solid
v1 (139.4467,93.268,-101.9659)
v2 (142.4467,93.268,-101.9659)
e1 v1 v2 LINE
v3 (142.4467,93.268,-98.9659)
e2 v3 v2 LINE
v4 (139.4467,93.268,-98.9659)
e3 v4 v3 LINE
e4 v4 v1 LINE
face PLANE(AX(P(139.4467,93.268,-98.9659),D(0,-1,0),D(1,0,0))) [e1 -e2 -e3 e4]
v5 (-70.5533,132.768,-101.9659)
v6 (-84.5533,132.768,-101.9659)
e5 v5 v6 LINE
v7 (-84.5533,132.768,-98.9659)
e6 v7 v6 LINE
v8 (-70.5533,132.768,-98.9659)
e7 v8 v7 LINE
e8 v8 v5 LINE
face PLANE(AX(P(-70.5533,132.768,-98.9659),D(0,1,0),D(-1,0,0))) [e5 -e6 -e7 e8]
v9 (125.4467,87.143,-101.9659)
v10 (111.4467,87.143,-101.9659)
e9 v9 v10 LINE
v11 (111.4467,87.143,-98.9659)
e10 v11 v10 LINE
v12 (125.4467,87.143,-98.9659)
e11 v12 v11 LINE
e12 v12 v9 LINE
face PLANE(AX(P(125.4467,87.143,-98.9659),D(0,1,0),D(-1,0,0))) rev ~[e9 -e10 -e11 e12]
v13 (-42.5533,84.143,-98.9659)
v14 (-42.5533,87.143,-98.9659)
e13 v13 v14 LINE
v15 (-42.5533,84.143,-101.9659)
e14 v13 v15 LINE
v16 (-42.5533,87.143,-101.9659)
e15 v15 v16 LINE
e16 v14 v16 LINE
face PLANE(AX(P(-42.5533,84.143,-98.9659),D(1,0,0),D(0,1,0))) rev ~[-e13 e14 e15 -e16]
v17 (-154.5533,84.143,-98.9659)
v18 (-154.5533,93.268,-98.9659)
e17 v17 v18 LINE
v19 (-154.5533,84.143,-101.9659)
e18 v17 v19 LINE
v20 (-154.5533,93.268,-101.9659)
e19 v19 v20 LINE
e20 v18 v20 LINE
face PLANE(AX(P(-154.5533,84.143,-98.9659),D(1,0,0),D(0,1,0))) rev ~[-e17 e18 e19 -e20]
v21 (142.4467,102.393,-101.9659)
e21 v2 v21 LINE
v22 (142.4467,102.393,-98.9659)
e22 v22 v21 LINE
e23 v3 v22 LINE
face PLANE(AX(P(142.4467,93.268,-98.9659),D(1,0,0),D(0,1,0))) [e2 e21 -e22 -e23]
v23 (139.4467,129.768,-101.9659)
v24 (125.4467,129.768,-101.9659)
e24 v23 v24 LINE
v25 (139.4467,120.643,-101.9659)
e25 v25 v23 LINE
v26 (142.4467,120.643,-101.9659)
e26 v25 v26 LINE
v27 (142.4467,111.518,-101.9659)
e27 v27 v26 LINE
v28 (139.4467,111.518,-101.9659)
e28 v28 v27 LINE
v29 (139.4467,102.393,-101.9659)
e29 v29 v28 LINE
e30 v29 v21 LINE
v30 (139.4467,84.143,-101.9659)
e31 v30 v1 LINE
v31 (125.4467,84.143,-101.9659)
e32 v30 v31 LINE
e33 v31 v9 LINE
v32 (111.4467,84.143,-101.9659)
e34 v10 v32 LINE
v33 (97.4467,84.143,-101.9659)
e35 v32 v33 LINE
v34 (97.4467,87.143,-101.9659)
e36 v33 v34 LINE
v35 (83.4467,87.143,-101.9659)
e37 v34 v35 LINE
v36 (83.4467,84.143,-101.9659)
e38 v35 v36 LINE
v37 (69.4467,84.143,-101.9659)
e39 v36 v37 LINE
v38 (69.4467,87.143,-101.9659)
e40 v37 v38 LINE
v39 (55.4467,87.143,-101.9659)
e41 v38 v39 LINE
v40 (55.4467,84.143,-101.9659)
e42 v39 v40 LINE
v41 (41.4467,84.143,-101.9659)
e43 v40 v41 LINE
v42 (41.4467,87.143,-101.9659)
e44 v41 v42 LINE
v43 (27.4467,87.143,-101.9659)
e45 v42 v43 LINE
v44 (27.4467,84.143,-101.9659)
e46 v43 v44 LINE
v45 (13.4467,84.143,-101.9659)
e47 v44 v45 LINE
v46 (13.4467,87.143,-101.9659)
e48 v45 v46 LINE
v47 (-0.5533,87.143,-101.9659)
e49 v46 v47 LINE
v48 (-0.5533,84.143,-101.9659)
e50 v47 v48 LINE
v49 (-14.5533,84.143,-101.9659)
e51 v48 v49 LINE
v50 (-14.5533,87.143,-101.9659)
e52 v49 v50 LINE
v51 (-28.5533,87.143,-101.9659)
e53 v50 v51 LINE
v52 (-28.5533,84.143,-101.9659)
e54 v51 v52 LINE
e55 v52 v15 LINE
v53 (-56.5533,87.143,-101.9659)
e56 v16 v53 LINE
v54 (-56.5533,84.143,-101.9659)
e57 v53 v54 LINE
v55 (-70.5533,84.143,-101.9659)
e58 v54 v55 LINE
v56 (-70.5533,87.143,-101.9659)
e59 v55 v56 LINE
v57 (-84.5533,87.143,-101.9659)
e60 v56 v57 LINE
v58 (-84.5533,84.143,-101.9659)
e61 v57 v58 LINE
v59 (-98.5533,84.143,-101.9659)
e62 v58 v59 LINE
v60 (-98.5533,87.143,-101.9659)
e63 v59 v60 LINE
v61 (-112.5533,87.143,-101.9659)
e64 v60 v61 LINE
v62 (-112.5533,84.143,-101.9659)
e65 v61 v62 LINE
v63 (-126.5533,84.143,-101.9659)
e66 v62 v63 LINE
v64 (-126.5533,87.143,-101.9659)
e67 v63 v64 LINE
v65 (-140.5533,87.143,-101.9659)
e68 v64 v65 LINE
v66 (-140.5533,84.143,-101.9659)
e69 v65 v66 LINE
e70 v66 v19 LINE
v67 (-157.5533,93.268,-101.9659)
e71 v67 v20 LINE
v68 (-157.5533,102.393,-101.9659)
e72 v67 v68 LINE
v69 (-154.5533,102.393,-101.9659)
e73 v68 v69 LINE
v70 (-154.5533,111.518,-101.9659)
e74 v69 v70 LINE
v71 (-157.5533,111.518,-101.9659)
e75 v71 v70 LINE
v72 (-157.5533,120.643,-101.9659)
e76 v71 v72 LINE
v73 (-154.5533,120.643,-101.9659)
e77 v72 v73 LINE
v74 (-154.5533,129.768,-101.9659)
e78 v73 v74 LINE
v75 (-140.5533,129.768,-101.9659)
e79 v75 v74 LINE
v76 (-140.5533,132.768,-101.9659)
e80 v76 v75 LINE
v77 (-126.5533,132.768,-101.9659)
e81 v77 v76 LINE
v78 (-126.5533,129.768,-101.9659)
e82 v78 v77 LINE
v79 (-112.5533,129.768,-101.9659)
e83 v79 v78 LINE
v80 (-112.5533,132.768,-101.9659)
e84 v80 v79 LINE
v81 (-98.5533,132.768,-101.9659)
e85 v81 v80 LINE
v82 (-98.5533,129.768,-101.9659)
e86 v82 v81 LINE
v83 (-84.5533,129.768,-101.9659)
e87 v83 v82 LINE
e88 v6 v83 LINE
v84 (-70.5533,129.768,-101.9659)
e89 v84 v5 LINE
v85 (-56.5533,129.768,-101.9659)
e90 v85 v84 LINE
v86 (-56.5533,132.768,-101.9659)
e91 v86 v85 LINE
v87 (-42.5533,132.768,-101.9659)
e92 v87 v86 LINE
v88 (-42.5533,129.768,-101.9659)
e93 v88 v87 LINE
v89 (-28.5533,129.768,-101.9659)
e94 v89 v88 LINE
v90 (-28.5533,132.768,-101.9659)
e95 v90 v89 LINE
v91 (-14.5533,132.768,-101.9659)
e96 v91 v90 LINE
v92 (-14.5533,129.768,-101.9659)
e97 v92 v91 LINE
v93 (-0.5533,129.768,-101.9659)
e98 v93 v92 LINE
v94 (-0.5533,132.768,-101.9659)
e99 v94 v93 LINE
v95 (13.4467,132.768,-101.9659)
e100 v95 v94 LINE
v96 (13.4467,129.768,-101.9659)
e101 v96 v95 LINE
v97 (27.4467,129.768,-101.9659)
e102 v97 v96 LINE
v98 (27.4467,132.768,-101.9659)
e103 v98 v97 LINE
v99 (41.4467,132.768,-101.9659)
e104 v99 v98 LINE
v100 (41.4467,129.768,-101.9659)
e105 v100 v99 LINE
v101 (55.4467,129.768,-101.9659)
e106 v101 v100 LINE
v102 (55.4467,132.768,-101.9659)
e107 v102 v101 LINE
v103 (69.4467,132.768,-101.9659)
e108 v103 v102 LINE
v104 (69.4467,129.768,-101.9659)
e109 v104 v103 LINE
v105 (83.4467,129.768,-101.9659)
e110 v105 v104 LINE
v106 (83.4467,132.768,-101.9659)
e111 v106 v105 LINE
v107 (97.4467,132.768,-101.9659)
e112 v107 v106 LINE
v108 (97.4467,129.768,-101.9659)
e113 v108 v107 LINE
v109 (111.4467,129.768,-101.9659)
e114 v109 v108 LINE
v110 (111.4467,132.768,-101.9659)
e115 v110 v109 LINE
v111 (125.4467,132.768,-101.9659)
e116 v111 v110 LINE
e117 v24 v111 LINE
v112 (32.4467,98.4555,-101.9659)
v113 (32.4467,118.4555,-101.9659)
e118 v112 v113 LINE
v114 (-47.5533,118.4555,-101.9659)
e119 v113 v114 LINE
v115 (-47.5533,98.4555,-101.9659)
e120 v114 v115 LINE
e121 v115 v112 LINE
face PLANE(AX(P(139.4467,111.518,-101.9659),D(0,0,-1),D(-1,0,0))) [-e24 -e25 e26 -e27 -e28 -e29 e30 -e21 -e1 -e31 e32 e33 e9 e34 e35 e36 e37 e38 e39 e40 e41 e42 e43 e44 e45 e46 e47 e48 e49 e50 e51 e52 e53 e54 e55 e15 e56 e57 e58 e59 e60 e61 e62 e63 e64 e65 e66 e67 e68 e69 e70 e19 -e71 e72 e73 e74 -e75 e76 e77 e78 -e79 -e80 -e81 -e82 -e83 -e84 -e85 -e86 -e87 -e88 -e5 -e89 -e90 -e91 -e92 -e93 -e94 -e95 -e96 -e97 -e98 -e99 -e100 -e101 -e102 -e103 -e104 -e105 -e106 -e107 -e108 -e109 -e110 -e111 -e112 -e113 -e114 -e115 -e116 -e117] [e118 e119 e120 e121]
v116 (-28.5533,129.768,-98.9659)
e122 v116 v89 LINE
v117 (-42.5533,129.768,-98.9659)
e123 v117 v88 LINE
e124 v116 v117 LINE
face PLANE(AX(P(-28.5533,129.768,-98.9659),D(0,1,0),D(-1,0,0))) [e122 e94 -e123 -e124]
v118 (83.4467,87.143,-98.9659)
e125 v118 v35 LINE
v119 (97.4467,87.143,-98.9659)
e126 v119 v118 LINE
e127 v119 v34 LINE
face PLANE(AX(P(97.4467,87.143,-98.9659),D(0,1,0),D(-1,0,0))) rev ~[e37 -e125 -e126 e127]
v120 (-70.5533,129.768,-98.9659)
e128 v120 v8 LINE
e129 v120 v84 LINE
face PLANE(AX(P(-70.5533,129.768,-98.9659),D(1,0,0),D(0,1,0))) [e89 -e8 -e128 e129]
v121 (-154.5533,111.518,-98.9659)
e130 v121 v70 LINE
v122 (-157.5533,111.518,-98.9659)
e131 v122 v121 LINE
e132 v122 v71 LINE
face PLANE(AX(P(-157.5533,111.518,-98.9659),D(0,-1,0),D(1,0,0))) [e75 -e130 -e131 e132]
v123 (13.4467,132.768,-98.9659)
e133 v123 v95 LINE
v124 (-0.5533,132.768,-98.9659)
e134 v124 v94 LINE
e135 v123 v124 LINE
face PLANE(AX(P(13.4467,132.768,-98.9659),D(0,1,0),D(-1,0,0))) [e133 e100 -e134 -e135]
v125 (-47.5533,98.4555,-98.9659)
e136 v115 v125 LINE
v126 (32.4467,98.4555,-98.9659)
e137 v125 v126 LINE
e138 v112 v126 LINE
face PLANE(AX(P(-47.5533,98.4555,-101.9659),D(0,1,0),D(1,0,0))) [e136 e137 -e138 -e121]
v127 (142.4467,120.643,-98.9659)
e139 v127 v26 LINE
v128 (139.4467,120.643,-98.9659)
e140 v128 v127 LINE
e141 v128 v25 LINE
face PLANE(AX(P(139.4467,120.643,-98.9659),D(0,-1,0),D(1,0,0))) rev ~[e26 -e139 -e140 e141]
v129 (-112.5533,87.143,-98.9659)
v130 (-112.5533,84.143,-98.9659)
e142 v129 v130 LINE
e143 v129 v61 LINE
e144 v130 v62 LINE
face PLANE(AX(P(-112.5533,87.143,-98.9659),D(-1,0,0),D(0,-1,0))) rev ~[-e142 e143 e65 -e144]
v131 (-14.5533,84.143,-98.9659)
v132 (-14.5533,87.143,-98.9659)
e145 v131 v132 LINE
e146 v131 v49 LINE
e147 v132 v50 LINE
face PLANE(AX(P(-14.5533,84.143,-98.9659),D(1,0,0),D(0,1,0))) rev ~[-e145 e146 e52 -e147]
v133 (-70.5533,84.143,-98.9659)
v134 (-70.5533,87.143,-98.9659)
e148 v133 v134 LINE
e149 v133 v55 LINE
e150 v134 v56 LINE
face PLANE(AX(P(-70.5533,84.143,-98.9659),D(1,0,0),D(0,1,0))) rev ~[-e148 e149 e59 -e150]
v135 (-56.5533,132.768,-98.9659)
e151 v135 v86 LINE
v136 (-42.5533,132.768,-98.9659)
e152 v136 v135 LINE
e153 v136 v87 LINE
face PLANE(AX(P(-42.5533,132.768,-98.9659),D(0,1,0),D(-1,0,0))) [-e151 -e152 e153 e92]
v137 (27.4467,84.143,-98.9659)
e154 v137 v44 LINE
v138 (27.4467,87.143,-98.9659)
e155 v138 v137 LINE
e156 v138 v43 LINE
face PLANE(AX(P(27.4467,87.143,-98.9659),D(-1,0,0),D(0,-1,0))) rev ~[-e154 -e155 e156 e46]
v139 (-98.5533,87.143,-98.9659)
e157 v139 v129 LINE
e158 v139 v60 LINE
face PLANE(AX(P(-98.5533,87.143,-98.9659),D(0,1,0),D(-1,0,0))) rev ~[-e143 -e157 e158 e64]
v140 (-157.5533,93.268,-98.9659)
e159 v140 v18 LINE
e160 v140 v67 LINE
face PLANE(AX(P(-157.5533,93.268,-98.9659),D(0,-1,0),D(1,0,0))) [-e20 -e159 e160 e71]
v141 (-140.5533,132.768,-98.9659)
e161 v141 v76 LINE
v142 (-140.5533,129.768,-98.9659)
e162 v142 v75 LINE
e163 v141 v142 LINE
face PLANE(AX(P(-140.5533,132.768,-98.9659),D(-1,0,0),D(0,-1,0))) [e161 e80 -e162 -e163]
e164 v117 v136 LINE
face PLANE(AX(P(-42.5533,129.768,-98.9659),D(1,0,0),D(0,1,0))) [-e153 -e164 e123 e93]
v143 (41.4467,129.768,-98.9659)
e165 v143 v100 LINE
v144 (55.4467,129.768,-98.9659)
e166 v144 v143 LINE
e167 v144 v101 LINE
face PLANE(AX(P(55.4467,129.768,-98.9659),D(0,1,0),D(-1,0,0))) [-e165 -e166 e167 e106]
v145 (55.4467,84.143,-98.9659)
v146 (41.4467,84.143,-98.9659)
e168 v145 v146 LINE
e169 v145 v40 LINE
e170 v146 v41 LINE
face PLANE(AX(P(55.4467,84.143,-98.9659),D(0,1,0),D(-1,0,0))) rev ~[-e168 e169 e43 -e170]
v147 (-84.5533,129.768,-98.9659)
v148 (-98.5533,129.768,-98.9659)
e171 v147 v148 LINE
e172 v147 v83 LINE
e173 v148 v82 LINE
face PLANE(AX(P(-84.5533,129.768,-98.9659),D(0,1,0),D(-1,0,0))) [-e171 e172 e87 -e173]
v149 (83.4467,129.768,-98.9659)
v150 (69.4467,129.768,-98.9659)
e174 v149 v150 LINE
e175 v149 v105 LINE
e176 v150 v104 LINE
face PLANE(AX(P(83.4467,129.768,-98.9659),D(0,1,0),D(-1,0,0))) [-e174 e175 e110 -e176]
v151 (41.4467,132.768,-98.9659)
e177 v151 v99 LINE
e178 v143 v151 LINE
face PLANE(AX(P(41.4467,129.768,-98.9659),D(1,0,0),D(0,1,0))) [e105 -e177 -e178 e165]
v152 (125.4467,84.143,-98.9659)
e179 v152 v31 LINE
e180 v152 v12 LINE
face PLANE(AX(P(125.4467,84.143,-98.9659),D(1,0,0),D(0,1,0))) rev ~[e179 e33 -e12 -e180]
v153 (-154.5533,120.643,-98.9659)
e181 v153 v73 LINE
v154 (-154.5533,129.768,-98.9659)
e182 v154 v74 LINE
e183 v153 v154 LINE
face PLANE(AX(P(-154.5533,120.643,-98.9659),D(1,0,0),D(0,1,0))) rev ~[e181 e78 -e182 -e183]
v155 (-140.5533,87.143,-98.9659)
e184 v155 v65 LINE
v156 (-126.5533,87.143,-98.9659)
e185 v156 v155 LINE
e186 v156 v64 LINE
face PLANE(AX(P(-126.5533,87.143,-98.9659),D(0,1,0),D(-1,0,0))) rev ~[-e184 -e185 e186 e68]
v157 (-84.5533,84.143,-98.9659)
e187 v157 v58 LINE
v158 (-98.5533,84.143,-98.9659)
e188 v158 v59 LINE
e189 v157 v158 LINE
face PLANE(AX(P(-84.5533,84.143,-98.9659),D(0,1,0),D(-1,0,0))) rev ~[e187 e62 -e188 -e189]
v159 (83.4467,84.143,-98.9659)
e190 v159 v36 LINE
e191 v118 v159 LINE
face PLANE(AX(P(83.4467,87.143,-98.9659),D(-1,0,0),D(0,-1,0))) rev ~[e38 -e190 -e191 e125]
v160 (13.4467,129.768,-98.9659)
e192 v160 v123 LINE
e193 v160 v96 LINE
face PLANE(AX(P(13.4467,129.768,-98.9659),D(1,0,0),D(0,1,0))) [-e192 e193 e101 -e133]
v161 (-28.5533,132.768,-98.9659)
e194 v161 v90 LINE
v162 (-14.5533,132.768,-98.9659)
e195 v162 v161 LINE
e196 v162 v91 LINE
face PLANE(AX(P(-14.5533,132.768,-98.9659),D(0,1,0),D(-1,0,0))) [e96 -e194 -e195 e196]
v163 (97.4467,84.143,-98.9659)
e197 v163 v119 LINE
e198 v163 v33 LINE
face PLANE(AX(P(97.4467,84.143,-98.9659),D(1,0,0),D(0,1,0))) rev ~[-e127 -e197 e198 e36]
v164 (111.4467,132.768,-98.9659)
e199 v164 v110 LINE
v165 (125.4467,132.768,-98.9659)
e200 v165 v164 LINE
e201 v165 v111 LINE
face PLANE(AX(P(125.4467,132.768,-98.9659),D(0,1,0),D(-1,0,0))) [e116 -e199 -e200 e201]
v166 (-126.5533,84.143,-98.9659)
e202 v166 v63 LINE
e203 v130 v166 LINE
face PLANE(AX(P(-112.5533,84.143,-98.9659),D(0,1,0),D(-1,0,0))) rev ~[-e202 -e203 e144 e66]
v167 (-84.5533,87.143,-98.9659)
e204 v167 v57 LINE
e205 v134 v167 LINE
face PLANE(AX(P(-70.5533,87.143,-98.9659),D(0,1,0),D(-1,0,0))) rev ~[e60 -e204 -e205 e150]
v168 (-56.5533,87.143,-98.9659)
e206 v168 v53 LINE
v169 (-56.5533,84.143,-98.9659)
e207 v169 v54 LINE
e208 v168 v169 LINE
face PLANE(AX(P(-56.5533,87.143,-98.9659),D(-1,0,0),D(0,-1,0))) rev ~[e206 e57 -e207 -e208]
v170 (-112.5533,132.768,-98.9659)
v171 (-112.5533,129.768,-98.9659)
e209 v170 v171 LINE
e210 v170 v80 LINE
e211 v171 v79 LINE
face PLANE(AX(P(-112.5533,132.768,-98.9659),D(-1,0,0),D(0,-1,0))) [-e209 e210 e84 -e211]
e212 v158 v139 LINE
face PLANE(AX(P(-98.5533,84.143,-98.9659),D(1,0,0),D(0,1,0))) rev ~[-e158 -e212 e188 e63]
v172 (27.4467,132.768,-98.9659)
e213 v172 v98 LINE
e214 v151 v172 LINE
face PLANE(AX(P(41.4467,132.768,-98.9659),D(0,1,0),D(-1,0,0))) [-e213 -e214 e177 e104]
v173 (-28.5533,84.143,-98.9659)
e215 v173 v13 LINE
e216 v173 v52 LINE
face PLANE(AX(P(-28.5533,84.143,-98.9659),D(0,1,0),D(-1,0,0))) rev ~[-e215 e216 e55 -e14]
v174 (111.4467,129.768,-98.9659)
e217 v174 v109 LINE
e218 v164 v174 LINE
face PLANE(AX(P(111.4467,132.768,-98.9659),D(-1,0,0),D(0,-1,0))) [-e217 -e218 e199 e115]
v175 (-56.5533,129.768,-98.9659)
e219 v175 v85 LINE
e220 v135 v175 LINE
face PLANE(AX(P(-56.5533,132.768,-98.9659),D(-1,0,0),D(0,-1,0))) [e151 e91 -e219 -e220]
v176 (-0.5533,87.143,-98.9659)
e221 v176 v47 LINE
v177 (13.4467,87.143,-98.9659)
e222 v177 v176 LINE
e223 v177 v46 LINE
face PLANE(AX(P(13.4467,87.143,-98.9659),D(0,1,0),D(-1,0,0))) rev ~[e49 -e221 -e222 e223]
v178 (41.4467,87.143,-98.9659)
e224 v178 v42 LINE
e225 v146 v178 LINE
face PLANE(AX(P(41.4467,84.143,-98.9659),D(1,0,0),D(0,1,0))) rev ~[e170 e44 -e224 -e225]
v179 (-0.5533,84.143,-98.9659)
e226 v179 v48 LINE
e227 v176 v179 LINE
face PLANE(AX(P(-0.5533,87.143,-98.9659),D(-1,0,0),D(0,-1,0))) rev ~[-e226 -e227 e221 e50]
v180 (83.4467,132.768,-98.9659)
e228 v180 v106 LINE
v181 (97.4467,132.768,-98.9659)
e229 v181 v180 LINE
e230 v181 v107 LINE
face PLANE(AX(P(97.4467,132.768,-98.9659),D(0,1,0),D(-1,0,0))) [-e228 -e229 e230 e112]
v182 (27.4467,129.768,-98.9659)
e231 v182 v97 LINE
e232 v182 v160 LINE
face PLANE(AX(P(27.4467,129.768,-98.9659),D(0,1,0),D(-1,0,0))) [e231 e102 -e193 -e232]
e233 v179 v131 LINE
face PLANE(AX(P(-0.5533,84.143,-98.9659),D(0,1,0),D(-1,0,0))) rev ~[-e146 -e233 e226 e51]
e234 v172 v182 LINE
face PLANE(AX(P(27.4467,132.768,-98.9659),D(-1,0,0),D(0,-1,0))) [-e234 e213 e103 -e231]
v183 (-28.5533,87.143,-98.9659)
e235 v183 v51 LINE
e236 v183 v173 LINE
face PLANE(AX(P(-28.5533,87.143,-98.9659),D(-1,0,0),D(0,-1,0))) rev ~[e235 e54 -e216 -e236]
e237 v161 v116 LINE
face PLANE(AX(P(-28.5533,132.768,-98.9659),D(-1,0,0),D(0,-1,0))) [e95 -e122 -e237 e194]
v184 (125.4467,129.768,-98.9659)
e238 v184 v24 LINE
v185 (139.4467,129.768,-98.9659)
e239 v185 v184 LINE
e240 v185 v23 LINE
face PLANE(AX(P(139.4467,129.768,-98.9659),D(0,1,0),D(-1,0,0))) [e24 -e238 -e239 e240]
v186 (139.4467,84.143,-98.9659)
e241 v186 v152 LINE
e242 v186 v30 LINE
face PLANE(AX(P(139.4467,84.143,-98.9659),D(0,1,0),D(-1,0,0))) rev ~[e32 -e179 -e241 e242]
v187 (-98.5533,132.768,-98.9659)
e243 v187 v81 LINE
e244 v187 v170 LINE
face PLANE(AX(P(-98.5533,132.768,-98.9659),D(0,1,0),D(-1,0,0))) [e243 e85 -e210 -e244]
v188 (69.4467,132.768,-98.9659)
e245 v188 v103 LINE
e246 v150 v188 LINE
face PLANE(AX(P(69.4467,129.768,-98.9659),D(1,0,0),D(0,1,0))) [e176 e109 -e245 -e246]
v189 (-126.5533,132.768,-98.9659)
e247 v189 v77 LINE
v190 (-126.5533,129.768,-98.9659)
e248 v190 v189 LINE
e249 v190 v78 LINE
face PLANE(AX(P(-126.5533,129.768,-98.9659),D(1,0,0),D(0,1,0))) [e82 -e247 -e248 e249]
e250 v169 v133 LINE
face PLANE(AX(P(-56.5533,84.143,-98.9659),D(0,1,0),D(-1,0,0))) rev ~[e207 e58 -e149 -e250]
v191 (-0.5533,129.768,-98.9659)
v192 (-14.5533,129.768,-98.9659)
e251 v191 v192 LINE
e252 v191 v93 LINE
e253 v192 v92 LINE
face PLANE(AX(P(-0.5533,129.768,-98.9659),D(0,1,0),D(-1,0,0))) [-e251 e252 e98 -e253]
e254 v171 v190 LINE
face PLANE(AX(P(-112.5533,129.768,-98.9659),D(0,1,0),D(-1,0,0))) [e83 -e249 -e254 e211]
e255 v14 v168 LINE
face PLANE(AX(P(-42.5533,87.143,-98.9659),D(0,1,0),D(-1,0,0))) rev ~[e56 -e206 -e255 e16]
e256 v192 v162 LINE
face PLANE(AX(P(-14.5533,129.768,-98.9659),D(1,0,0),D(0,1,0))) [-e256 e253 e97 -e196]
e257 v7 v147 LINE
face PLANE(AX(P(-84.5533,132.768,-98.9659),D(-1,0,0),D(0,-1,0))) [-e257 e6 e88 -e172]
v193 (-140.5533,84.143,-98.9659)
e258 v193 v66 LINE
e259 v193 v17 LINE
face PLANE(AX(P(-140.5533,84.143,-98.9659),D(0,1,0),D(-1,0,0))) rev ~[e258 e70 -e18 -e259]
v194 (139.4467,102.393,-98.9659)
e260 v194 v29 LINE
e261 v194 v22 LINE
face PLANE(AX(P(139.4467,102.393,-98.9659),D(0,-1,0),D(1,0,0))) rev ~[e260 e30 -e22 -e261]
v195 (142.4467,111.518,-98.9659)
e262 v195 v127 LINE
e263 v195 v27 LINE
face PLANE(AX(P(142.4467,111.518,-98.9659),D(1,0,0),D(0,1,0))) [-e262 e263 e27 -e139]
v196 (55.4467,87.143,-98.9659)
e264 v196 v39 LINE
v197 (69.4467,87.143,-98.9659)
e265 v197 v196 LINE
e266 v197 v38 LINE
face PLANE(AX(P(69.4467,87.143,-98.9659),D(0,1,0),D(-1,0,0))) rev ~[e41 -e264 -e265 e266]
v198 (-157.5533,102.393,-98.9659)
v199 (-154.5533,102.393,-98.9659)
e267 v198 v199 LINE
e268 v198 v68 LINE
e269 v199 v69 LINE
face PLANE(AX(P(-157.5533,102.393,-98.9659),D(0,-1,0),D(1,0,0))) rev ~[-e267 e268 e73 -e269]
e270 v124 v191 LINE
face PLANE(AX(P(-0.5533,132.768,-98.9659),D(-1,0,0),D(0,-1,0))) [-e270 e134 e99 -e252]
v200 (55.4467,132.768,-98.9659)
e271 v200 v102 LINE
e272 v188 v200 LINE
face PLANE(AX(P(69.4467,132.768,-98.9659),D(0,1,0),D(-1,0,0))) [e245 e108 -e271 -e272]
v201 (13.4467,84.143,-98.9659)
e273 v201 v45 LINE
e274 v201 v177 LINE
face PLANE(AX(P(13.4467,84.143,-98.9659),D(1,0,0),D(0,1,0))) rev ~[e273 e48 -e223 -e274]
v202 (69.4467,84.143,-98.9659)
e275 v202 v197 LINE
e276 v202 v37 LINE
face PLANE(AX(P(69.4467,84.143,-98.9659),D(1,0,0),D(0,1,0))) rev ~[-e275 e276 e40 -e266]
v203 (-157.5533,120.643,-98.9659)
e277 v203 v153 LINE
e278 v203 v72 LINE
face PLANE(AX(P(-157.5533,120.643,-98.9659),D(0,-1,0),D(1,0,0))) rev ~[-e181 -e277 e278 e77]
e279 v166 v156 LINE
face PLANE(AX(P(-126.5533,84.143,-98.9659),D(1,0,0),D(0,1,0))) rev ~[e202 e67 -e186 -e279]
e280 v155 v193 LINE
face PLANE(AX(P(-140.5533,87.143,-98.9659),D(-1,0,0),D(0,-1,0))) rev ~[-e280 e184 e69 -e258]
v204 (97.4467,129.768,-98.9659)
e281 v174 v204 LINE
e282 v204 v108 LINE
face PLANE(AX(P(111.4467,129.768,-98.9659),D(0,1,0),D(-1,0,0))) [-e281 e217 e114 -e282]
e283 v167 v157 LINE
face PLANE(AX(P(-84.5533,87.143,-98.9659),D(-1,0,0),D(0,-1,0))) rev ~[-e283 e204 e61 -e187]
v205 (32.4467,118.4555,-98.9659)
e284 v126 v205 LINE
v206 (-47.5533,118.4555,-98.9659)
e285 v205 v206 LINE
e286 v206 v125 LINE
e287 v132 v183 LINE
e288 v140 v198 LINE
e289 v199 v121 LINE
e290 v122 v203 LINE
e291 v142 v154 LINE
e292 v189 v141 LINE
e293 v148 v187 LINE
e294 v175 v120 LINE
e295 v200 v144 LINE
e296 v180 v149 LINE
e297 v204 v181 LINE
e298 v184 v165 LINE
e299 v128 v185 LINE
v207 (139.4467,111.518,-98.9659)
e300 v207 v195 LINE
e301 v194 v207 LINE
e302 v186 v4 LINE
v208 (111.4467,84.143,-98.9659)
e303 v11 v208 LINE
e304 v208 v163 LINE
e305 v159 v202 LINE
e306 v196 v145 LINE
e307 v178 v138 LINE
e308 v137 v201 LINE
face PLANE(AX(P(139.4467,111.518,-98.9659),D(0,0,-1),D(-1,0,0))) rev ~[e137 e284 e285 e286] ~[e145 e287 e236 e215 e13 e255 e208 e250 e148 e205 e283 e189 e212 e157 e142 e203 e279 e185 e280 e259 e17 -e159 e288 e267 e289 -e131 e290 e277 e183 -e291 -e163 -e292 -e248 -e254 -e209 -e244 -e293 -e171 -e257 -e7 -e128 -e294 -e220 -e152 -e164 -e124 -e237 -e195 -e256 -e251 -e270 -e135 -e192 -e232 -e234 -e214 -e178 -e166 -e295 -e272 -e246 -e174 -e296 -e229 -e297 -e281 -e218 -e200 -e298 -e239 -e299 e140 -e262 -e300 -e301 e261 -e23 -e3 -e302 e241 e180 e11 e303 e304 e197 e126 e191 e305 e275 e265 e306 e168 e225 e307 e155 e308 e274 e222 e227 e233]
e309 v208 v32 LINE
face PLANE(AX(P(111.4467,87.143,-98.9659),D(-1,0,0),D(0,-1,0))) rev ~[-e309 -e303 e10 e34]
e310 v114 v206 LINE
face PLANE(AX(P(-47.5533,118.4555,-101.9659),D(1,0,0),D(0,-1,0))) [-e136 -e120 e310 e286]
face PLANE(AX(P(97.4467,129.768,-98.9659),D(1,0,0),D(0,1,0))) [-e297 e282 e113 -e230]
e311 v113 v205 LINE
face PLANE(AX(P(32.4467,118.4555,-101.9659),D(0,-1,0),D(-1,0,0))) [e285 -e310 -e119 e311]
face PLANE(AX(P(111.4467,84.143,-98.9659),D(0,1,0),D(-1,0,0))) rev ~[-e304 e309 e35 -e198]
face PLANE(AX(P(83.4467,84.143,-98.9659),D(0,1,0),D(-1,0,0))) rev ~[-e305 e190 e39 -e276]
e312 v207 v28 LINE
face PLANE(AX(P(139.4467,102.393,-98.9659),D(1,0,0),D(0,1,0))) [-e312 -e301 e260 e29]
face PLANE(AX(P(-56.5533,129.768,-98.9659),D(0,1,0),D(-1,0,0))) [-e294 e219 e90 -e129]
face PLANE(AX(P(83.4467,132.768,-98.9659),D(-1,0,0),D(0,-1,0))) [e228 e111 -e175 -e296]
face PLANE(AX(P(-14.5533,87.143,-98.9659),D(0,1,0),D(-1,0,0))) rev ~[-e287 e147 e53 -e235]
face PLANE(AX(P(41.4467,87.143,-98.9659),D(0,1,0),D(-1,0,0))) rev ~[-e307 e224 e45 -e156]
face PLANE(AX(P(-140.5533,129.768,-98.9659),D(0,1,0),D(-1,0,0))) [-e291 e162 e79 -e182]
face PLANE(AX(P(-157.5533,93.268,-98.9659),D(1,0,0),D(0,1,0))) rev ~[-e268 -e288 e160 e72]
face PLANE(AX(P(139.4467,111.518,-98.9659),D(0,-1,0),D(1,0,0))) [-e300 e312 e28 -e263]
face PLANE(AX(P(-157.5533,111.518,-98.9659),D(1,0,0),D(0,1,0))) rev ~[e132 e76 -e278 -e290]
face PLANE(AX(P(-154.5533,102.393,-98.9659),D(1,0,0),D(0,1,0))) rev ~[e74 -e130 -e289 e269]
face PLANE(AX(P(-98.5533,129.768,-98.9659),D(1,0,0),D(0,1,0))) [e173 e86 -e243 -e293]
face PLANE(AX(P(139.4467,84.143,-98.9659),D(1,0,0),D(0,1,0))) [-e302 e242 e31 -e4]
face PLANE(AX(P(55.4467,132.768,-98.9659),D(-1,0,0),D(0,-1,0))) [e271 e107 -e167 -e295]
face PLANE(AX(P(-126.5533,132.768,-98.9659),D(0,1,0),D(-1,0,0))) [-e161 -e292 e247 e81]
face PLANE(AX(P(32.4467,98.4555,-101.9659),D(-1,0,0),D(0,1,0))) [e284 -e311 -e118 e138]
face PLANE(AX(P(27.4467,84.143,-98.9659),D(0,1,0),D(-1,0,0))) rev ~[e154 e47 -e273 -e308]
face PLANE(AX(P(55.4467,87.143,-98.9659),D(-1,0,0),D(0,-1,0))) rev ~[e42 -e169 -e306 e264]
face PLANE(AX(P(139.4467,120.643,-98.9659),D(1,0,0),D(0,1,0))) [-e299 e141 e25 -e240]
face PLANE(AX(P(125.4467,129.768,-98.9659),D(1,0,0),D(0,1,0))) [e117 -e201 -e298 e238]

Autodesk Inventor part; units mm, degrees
ref_plane "YZ Plane" through (0, 0, 0) normal (1, 0, 0) x (0, 1, 0)
ref_plane "XZ Plane" through (0, 0, 0) normal (0, 1, 0) x (-1, 0, 0)
ref_plane "XY Plane" through (0, 0, 0) normal (0, 0, 1) x (1, 0, 0)
ref_plane "Work Plane1" through (139.4467, 111.518, -98.9659) normal (0, 0, -1) x (-1, 0, 0)
sketch "Sketch1" plane through (139.4467, 111.518, -98.9659) normal (0, 0, -1) x (-1, 0, 0)
  line L0 (0, 9.125) -> (0, 18.25) projected
  line L1 (0, -9.125) -> (0, 0) projected
  line L2 (-3, -18.25) -> (-3, -9.125) projected
  line L3 (-3, 0) -> (-3, 9.125) projected
  line L4 (0, 0) -> (-3, 0) projected
  line L5 (0, -9.125) -> (-3, -9.125) projected
  line L6 (0, -18.25) -> (-3, -18.25) projected
  line L7 (0, -27.375) -> (0, -18.25) projected
  line L8 (0, 9.125) -> (-3, 9.125) projected
  line L9 (294, 9.125) -> (294, 18.25) projected
  line L10 (297, 0) -> (297, 9.125) projected
  line L11 (294, -9.125) -> (294, 0) projected
  line L12 (297, -18.25) -> (297, -9.125) projected
  line L13 (294, -27.375) -> (294, -18.25) projected
  line L14 (297, -18.25) -> (294, -18.25) projected
  line L15 (297, -9.125) -> (294, -9.125) projected
  line L16 (297, 0) -> (294, 0) projected
  line L17 (297, 9.125) -> (294, 9.125) projected
  line L18 (0, -27.375) -> (14, -27.375)
  line L19 (14, -27.375) -> (14, -24.375)
  line L20 (14, -24.375) -> (28, -24.375)
  line L21 (28, -24.375) -> (28, -27.375)
  line L22 (56, -24.375) -> (56, -27.375)
  line L23 (42, -24.375) -> (56, -24.375)
  line L24 (42, -27.375) -> (42, -24.375)
  line L25 (28, -27.375) -> (42, -27.375)
  line L26 (84, -24.375) -> (84, -27.375)
  line L27 (70, -24.375) -> (84, -24.375)
  line L28 (70, -27.375) -> (70, -24.375)
  line L29 (56, -27.375) -> (70, -27.375)
  line L30 (112, -24.375) -> (112, -27.375)
  line L31 (98, -24.375) -> (112, -24.375)
  line L32 (98, -27.375) -> (98, -24.375)
  line L33 (84, -27.375) -> (98, -27.375)
  line L34 (140, -24.375) -> (140, -27.375)
  line L35 (126, -24.375) -> (140, -24.375)
  line L36 (126, -27.375) -> (126, -24.375)
  line L37 (112, -27.375) -> (126, -27.375)
  line L38 (168, -24.375) -> (168, -27.375)
  line L39 (154, -24.375) -> (168, -24.375)
  line L40 (154, -27.375) -> (154, -24.375)
  line L41 (140, -27.375) -> (154, -27.375)
  line L42 (196, -24.375) -> (196, -27.375)
  line L43 (182, -24.375) -> (196, -24.375)
  line L44 (182, -27.375) -> (182, -24.375)
  line L45 (168, -27.375) -> (182, -27.375)
  line L46 (224, -24.375) -> (224, -27.375)
  line L47 (210, -24.375) -> (224, -24.375)
  line L48 (210, -27.375) -> (210, -24.375)
  line L49 (196, -27.375) -> (210, -27.375)
  line L50 (252, -24.375) -> (252, -27.375)
  line L51 (238, -24.375) -> (252, -24.375)
  line L52 (238, -27.375) -> (238, -24.375)
  line L53 (224, -27.375) -> (238, -27.375)
  line L54 (280, -24.375) -> (280, -27.375)
  line L55 (266, -24.375) -> (280, -24.375)
  line L56 (266, -27.375) -> (266, -24.375)
  line L57 (252, -27.375) -> (266, -27.375)
  line L58 (280, -27.375) -> (294, -27.375)
  line L59 (0, 18.25) -> (14, 18.25)
  line L60 (14, 18.25) -> (14, 21.25)
  line L61 (14, 21.25) -> (28, 21.25)
  line L62 (28, 21.25) -> (28, 18.25)
  line L63 (56, 21.25) -> (56, 18.25)
  line L64 (42, 21.25) -> (56, 21.25)
  line L65 (42, 18.25) -> (42, 21.25)
  line L66 (28, 18.25) -> (42, 18.25)
  line L67 (84, 21.25) -> (84, 18.25)
  line L68 (70, 21.25) -> (84, 21.25)
  line L69 (70, 18.25) -> (70, 21.25)
  line L70 (56, 18.25) -> (70, 18.25)
  line L71 (112, 21.25) -> (112, 18.25)
  line L72 (98, 21.25) -> (112, 21.25)
  line L73 (98, 18.25) -> (98, 21.25)
  line L74 (84, 18.25) -> (98, 18.25)
  line L75 (140, 21.25) -> (140, 18.25)
  line L76 (126, 21.25) -> (140, 21.25)
  line L77 (126, 18.25) -> (126, 21.25)
  line L78 (112, 18.25) -> (126, 18.25)
  line L79 (168, 21.25) -> (168, 18.25)
  line L80 (154, 21.25) -> (168, 21.25)
  line L81 (154, 18.25) -> (154, 21.25)
  line L82 (140, 18.25) -> (154, 18.25)
  line L83 (196, 21.25) -> (196, 18.25)
  line L84 (182, 21.25) -> (196, 21.25)
  line L85 (182, 18.25) -> (182, 21.25)
  line L86 (168, 18.25) -> (182, 18.25)
  line L87 (224, 21.25) -> (224, 18.25)
  line L88 (210, 21.25) -> (224, 21.25)
  line L89 (210, 18.25) -> (210, 21.25)
  line L90 (196, 18.25) -> (210, 18.25)
  line L91 (252, 21.25) -> (252, 18.25)
  line L92 (238, 21.25) -> (252, 21.25)
  line L93 (238, 18.25) -> (238, 21.25)
  line L94 (224, 18.25) -> (238, 18.25)
  line L95 (280, 21.25) -> (280, 18.25)
  line L96 (266, 21.25) -> (280, 21.25)
  line L97 (266, 18.25) -> (266, 21.25)
  line L98 (252, 18.25) -> (266, 18.25)
  line L99 (280, 18.25) -> (294, 18.25)
  point P0 (139.4467, -111.518)
  point P1 (28, -27.375)
  point P2 (56, -27.375)
  point P3 (168, -27.375)
  point P4 (224, -27.375)
  point P5 (252, 18.25)
  point P6 (224, 18.25)
  point P7 (196, 18.25)
  point P8 (168, 18.25)
  point P9 (140, 18.25)
  point P10 (112, 18.25)
  point P11 (84, 18.25)
  point P12 (56, 18.25)
  point P13 (28, 18.25)
  point P14 (0, 18.25)
  dimension "d0" = 3
  dimension "d1" = 14
  dimension "d4" = 28
  dimension "d13" = 3
  dimension "d14" = 14
  dimension "d15" = 28
extrude "Extrusion1" add sketch "Sketch1" along normal blind 3
sketch "Sketch2" plane through (139.4467, 111.518, -101.9659) normal (0, 0, -1) x (-1, 0, 0)
  line L0 (107, 6.9375) -> (187, 6.9375)
  line L1 (187, 6.9375) -> (187, -13.0625)
  line L2 (187, -13.0625) -> (107, -13.0625)
  line L3 (107, -13.0625) -> (107, 6.9375)
  line L4 (187, -3.0625) -> (294, -3.0625) construction
  line L5 (294, -9.125) -> (294, 0) projected
  line L6 (107, -3.0625) -> (0, -3.0625) construction
  line L7 (0, 0) -> (0, -9.125) projected
  line L8 (147, -13.0625) -> (147, -24.375) construction
  line L9 (154, -24.375) -> (168, -24.375) projected
  line L10 (147, 6.9375) -> (147, 18.25) construction
  line L11 (154, 18.25) -> (140, 18.25) projected
  point P0 (139.4467, -111.518)
  dimension "d19" = 80
  dimension "d20" = 20
extrude "Extrusion2" cut sketch "Sketch2" against normal blind 3
properties part number "BackWall"
